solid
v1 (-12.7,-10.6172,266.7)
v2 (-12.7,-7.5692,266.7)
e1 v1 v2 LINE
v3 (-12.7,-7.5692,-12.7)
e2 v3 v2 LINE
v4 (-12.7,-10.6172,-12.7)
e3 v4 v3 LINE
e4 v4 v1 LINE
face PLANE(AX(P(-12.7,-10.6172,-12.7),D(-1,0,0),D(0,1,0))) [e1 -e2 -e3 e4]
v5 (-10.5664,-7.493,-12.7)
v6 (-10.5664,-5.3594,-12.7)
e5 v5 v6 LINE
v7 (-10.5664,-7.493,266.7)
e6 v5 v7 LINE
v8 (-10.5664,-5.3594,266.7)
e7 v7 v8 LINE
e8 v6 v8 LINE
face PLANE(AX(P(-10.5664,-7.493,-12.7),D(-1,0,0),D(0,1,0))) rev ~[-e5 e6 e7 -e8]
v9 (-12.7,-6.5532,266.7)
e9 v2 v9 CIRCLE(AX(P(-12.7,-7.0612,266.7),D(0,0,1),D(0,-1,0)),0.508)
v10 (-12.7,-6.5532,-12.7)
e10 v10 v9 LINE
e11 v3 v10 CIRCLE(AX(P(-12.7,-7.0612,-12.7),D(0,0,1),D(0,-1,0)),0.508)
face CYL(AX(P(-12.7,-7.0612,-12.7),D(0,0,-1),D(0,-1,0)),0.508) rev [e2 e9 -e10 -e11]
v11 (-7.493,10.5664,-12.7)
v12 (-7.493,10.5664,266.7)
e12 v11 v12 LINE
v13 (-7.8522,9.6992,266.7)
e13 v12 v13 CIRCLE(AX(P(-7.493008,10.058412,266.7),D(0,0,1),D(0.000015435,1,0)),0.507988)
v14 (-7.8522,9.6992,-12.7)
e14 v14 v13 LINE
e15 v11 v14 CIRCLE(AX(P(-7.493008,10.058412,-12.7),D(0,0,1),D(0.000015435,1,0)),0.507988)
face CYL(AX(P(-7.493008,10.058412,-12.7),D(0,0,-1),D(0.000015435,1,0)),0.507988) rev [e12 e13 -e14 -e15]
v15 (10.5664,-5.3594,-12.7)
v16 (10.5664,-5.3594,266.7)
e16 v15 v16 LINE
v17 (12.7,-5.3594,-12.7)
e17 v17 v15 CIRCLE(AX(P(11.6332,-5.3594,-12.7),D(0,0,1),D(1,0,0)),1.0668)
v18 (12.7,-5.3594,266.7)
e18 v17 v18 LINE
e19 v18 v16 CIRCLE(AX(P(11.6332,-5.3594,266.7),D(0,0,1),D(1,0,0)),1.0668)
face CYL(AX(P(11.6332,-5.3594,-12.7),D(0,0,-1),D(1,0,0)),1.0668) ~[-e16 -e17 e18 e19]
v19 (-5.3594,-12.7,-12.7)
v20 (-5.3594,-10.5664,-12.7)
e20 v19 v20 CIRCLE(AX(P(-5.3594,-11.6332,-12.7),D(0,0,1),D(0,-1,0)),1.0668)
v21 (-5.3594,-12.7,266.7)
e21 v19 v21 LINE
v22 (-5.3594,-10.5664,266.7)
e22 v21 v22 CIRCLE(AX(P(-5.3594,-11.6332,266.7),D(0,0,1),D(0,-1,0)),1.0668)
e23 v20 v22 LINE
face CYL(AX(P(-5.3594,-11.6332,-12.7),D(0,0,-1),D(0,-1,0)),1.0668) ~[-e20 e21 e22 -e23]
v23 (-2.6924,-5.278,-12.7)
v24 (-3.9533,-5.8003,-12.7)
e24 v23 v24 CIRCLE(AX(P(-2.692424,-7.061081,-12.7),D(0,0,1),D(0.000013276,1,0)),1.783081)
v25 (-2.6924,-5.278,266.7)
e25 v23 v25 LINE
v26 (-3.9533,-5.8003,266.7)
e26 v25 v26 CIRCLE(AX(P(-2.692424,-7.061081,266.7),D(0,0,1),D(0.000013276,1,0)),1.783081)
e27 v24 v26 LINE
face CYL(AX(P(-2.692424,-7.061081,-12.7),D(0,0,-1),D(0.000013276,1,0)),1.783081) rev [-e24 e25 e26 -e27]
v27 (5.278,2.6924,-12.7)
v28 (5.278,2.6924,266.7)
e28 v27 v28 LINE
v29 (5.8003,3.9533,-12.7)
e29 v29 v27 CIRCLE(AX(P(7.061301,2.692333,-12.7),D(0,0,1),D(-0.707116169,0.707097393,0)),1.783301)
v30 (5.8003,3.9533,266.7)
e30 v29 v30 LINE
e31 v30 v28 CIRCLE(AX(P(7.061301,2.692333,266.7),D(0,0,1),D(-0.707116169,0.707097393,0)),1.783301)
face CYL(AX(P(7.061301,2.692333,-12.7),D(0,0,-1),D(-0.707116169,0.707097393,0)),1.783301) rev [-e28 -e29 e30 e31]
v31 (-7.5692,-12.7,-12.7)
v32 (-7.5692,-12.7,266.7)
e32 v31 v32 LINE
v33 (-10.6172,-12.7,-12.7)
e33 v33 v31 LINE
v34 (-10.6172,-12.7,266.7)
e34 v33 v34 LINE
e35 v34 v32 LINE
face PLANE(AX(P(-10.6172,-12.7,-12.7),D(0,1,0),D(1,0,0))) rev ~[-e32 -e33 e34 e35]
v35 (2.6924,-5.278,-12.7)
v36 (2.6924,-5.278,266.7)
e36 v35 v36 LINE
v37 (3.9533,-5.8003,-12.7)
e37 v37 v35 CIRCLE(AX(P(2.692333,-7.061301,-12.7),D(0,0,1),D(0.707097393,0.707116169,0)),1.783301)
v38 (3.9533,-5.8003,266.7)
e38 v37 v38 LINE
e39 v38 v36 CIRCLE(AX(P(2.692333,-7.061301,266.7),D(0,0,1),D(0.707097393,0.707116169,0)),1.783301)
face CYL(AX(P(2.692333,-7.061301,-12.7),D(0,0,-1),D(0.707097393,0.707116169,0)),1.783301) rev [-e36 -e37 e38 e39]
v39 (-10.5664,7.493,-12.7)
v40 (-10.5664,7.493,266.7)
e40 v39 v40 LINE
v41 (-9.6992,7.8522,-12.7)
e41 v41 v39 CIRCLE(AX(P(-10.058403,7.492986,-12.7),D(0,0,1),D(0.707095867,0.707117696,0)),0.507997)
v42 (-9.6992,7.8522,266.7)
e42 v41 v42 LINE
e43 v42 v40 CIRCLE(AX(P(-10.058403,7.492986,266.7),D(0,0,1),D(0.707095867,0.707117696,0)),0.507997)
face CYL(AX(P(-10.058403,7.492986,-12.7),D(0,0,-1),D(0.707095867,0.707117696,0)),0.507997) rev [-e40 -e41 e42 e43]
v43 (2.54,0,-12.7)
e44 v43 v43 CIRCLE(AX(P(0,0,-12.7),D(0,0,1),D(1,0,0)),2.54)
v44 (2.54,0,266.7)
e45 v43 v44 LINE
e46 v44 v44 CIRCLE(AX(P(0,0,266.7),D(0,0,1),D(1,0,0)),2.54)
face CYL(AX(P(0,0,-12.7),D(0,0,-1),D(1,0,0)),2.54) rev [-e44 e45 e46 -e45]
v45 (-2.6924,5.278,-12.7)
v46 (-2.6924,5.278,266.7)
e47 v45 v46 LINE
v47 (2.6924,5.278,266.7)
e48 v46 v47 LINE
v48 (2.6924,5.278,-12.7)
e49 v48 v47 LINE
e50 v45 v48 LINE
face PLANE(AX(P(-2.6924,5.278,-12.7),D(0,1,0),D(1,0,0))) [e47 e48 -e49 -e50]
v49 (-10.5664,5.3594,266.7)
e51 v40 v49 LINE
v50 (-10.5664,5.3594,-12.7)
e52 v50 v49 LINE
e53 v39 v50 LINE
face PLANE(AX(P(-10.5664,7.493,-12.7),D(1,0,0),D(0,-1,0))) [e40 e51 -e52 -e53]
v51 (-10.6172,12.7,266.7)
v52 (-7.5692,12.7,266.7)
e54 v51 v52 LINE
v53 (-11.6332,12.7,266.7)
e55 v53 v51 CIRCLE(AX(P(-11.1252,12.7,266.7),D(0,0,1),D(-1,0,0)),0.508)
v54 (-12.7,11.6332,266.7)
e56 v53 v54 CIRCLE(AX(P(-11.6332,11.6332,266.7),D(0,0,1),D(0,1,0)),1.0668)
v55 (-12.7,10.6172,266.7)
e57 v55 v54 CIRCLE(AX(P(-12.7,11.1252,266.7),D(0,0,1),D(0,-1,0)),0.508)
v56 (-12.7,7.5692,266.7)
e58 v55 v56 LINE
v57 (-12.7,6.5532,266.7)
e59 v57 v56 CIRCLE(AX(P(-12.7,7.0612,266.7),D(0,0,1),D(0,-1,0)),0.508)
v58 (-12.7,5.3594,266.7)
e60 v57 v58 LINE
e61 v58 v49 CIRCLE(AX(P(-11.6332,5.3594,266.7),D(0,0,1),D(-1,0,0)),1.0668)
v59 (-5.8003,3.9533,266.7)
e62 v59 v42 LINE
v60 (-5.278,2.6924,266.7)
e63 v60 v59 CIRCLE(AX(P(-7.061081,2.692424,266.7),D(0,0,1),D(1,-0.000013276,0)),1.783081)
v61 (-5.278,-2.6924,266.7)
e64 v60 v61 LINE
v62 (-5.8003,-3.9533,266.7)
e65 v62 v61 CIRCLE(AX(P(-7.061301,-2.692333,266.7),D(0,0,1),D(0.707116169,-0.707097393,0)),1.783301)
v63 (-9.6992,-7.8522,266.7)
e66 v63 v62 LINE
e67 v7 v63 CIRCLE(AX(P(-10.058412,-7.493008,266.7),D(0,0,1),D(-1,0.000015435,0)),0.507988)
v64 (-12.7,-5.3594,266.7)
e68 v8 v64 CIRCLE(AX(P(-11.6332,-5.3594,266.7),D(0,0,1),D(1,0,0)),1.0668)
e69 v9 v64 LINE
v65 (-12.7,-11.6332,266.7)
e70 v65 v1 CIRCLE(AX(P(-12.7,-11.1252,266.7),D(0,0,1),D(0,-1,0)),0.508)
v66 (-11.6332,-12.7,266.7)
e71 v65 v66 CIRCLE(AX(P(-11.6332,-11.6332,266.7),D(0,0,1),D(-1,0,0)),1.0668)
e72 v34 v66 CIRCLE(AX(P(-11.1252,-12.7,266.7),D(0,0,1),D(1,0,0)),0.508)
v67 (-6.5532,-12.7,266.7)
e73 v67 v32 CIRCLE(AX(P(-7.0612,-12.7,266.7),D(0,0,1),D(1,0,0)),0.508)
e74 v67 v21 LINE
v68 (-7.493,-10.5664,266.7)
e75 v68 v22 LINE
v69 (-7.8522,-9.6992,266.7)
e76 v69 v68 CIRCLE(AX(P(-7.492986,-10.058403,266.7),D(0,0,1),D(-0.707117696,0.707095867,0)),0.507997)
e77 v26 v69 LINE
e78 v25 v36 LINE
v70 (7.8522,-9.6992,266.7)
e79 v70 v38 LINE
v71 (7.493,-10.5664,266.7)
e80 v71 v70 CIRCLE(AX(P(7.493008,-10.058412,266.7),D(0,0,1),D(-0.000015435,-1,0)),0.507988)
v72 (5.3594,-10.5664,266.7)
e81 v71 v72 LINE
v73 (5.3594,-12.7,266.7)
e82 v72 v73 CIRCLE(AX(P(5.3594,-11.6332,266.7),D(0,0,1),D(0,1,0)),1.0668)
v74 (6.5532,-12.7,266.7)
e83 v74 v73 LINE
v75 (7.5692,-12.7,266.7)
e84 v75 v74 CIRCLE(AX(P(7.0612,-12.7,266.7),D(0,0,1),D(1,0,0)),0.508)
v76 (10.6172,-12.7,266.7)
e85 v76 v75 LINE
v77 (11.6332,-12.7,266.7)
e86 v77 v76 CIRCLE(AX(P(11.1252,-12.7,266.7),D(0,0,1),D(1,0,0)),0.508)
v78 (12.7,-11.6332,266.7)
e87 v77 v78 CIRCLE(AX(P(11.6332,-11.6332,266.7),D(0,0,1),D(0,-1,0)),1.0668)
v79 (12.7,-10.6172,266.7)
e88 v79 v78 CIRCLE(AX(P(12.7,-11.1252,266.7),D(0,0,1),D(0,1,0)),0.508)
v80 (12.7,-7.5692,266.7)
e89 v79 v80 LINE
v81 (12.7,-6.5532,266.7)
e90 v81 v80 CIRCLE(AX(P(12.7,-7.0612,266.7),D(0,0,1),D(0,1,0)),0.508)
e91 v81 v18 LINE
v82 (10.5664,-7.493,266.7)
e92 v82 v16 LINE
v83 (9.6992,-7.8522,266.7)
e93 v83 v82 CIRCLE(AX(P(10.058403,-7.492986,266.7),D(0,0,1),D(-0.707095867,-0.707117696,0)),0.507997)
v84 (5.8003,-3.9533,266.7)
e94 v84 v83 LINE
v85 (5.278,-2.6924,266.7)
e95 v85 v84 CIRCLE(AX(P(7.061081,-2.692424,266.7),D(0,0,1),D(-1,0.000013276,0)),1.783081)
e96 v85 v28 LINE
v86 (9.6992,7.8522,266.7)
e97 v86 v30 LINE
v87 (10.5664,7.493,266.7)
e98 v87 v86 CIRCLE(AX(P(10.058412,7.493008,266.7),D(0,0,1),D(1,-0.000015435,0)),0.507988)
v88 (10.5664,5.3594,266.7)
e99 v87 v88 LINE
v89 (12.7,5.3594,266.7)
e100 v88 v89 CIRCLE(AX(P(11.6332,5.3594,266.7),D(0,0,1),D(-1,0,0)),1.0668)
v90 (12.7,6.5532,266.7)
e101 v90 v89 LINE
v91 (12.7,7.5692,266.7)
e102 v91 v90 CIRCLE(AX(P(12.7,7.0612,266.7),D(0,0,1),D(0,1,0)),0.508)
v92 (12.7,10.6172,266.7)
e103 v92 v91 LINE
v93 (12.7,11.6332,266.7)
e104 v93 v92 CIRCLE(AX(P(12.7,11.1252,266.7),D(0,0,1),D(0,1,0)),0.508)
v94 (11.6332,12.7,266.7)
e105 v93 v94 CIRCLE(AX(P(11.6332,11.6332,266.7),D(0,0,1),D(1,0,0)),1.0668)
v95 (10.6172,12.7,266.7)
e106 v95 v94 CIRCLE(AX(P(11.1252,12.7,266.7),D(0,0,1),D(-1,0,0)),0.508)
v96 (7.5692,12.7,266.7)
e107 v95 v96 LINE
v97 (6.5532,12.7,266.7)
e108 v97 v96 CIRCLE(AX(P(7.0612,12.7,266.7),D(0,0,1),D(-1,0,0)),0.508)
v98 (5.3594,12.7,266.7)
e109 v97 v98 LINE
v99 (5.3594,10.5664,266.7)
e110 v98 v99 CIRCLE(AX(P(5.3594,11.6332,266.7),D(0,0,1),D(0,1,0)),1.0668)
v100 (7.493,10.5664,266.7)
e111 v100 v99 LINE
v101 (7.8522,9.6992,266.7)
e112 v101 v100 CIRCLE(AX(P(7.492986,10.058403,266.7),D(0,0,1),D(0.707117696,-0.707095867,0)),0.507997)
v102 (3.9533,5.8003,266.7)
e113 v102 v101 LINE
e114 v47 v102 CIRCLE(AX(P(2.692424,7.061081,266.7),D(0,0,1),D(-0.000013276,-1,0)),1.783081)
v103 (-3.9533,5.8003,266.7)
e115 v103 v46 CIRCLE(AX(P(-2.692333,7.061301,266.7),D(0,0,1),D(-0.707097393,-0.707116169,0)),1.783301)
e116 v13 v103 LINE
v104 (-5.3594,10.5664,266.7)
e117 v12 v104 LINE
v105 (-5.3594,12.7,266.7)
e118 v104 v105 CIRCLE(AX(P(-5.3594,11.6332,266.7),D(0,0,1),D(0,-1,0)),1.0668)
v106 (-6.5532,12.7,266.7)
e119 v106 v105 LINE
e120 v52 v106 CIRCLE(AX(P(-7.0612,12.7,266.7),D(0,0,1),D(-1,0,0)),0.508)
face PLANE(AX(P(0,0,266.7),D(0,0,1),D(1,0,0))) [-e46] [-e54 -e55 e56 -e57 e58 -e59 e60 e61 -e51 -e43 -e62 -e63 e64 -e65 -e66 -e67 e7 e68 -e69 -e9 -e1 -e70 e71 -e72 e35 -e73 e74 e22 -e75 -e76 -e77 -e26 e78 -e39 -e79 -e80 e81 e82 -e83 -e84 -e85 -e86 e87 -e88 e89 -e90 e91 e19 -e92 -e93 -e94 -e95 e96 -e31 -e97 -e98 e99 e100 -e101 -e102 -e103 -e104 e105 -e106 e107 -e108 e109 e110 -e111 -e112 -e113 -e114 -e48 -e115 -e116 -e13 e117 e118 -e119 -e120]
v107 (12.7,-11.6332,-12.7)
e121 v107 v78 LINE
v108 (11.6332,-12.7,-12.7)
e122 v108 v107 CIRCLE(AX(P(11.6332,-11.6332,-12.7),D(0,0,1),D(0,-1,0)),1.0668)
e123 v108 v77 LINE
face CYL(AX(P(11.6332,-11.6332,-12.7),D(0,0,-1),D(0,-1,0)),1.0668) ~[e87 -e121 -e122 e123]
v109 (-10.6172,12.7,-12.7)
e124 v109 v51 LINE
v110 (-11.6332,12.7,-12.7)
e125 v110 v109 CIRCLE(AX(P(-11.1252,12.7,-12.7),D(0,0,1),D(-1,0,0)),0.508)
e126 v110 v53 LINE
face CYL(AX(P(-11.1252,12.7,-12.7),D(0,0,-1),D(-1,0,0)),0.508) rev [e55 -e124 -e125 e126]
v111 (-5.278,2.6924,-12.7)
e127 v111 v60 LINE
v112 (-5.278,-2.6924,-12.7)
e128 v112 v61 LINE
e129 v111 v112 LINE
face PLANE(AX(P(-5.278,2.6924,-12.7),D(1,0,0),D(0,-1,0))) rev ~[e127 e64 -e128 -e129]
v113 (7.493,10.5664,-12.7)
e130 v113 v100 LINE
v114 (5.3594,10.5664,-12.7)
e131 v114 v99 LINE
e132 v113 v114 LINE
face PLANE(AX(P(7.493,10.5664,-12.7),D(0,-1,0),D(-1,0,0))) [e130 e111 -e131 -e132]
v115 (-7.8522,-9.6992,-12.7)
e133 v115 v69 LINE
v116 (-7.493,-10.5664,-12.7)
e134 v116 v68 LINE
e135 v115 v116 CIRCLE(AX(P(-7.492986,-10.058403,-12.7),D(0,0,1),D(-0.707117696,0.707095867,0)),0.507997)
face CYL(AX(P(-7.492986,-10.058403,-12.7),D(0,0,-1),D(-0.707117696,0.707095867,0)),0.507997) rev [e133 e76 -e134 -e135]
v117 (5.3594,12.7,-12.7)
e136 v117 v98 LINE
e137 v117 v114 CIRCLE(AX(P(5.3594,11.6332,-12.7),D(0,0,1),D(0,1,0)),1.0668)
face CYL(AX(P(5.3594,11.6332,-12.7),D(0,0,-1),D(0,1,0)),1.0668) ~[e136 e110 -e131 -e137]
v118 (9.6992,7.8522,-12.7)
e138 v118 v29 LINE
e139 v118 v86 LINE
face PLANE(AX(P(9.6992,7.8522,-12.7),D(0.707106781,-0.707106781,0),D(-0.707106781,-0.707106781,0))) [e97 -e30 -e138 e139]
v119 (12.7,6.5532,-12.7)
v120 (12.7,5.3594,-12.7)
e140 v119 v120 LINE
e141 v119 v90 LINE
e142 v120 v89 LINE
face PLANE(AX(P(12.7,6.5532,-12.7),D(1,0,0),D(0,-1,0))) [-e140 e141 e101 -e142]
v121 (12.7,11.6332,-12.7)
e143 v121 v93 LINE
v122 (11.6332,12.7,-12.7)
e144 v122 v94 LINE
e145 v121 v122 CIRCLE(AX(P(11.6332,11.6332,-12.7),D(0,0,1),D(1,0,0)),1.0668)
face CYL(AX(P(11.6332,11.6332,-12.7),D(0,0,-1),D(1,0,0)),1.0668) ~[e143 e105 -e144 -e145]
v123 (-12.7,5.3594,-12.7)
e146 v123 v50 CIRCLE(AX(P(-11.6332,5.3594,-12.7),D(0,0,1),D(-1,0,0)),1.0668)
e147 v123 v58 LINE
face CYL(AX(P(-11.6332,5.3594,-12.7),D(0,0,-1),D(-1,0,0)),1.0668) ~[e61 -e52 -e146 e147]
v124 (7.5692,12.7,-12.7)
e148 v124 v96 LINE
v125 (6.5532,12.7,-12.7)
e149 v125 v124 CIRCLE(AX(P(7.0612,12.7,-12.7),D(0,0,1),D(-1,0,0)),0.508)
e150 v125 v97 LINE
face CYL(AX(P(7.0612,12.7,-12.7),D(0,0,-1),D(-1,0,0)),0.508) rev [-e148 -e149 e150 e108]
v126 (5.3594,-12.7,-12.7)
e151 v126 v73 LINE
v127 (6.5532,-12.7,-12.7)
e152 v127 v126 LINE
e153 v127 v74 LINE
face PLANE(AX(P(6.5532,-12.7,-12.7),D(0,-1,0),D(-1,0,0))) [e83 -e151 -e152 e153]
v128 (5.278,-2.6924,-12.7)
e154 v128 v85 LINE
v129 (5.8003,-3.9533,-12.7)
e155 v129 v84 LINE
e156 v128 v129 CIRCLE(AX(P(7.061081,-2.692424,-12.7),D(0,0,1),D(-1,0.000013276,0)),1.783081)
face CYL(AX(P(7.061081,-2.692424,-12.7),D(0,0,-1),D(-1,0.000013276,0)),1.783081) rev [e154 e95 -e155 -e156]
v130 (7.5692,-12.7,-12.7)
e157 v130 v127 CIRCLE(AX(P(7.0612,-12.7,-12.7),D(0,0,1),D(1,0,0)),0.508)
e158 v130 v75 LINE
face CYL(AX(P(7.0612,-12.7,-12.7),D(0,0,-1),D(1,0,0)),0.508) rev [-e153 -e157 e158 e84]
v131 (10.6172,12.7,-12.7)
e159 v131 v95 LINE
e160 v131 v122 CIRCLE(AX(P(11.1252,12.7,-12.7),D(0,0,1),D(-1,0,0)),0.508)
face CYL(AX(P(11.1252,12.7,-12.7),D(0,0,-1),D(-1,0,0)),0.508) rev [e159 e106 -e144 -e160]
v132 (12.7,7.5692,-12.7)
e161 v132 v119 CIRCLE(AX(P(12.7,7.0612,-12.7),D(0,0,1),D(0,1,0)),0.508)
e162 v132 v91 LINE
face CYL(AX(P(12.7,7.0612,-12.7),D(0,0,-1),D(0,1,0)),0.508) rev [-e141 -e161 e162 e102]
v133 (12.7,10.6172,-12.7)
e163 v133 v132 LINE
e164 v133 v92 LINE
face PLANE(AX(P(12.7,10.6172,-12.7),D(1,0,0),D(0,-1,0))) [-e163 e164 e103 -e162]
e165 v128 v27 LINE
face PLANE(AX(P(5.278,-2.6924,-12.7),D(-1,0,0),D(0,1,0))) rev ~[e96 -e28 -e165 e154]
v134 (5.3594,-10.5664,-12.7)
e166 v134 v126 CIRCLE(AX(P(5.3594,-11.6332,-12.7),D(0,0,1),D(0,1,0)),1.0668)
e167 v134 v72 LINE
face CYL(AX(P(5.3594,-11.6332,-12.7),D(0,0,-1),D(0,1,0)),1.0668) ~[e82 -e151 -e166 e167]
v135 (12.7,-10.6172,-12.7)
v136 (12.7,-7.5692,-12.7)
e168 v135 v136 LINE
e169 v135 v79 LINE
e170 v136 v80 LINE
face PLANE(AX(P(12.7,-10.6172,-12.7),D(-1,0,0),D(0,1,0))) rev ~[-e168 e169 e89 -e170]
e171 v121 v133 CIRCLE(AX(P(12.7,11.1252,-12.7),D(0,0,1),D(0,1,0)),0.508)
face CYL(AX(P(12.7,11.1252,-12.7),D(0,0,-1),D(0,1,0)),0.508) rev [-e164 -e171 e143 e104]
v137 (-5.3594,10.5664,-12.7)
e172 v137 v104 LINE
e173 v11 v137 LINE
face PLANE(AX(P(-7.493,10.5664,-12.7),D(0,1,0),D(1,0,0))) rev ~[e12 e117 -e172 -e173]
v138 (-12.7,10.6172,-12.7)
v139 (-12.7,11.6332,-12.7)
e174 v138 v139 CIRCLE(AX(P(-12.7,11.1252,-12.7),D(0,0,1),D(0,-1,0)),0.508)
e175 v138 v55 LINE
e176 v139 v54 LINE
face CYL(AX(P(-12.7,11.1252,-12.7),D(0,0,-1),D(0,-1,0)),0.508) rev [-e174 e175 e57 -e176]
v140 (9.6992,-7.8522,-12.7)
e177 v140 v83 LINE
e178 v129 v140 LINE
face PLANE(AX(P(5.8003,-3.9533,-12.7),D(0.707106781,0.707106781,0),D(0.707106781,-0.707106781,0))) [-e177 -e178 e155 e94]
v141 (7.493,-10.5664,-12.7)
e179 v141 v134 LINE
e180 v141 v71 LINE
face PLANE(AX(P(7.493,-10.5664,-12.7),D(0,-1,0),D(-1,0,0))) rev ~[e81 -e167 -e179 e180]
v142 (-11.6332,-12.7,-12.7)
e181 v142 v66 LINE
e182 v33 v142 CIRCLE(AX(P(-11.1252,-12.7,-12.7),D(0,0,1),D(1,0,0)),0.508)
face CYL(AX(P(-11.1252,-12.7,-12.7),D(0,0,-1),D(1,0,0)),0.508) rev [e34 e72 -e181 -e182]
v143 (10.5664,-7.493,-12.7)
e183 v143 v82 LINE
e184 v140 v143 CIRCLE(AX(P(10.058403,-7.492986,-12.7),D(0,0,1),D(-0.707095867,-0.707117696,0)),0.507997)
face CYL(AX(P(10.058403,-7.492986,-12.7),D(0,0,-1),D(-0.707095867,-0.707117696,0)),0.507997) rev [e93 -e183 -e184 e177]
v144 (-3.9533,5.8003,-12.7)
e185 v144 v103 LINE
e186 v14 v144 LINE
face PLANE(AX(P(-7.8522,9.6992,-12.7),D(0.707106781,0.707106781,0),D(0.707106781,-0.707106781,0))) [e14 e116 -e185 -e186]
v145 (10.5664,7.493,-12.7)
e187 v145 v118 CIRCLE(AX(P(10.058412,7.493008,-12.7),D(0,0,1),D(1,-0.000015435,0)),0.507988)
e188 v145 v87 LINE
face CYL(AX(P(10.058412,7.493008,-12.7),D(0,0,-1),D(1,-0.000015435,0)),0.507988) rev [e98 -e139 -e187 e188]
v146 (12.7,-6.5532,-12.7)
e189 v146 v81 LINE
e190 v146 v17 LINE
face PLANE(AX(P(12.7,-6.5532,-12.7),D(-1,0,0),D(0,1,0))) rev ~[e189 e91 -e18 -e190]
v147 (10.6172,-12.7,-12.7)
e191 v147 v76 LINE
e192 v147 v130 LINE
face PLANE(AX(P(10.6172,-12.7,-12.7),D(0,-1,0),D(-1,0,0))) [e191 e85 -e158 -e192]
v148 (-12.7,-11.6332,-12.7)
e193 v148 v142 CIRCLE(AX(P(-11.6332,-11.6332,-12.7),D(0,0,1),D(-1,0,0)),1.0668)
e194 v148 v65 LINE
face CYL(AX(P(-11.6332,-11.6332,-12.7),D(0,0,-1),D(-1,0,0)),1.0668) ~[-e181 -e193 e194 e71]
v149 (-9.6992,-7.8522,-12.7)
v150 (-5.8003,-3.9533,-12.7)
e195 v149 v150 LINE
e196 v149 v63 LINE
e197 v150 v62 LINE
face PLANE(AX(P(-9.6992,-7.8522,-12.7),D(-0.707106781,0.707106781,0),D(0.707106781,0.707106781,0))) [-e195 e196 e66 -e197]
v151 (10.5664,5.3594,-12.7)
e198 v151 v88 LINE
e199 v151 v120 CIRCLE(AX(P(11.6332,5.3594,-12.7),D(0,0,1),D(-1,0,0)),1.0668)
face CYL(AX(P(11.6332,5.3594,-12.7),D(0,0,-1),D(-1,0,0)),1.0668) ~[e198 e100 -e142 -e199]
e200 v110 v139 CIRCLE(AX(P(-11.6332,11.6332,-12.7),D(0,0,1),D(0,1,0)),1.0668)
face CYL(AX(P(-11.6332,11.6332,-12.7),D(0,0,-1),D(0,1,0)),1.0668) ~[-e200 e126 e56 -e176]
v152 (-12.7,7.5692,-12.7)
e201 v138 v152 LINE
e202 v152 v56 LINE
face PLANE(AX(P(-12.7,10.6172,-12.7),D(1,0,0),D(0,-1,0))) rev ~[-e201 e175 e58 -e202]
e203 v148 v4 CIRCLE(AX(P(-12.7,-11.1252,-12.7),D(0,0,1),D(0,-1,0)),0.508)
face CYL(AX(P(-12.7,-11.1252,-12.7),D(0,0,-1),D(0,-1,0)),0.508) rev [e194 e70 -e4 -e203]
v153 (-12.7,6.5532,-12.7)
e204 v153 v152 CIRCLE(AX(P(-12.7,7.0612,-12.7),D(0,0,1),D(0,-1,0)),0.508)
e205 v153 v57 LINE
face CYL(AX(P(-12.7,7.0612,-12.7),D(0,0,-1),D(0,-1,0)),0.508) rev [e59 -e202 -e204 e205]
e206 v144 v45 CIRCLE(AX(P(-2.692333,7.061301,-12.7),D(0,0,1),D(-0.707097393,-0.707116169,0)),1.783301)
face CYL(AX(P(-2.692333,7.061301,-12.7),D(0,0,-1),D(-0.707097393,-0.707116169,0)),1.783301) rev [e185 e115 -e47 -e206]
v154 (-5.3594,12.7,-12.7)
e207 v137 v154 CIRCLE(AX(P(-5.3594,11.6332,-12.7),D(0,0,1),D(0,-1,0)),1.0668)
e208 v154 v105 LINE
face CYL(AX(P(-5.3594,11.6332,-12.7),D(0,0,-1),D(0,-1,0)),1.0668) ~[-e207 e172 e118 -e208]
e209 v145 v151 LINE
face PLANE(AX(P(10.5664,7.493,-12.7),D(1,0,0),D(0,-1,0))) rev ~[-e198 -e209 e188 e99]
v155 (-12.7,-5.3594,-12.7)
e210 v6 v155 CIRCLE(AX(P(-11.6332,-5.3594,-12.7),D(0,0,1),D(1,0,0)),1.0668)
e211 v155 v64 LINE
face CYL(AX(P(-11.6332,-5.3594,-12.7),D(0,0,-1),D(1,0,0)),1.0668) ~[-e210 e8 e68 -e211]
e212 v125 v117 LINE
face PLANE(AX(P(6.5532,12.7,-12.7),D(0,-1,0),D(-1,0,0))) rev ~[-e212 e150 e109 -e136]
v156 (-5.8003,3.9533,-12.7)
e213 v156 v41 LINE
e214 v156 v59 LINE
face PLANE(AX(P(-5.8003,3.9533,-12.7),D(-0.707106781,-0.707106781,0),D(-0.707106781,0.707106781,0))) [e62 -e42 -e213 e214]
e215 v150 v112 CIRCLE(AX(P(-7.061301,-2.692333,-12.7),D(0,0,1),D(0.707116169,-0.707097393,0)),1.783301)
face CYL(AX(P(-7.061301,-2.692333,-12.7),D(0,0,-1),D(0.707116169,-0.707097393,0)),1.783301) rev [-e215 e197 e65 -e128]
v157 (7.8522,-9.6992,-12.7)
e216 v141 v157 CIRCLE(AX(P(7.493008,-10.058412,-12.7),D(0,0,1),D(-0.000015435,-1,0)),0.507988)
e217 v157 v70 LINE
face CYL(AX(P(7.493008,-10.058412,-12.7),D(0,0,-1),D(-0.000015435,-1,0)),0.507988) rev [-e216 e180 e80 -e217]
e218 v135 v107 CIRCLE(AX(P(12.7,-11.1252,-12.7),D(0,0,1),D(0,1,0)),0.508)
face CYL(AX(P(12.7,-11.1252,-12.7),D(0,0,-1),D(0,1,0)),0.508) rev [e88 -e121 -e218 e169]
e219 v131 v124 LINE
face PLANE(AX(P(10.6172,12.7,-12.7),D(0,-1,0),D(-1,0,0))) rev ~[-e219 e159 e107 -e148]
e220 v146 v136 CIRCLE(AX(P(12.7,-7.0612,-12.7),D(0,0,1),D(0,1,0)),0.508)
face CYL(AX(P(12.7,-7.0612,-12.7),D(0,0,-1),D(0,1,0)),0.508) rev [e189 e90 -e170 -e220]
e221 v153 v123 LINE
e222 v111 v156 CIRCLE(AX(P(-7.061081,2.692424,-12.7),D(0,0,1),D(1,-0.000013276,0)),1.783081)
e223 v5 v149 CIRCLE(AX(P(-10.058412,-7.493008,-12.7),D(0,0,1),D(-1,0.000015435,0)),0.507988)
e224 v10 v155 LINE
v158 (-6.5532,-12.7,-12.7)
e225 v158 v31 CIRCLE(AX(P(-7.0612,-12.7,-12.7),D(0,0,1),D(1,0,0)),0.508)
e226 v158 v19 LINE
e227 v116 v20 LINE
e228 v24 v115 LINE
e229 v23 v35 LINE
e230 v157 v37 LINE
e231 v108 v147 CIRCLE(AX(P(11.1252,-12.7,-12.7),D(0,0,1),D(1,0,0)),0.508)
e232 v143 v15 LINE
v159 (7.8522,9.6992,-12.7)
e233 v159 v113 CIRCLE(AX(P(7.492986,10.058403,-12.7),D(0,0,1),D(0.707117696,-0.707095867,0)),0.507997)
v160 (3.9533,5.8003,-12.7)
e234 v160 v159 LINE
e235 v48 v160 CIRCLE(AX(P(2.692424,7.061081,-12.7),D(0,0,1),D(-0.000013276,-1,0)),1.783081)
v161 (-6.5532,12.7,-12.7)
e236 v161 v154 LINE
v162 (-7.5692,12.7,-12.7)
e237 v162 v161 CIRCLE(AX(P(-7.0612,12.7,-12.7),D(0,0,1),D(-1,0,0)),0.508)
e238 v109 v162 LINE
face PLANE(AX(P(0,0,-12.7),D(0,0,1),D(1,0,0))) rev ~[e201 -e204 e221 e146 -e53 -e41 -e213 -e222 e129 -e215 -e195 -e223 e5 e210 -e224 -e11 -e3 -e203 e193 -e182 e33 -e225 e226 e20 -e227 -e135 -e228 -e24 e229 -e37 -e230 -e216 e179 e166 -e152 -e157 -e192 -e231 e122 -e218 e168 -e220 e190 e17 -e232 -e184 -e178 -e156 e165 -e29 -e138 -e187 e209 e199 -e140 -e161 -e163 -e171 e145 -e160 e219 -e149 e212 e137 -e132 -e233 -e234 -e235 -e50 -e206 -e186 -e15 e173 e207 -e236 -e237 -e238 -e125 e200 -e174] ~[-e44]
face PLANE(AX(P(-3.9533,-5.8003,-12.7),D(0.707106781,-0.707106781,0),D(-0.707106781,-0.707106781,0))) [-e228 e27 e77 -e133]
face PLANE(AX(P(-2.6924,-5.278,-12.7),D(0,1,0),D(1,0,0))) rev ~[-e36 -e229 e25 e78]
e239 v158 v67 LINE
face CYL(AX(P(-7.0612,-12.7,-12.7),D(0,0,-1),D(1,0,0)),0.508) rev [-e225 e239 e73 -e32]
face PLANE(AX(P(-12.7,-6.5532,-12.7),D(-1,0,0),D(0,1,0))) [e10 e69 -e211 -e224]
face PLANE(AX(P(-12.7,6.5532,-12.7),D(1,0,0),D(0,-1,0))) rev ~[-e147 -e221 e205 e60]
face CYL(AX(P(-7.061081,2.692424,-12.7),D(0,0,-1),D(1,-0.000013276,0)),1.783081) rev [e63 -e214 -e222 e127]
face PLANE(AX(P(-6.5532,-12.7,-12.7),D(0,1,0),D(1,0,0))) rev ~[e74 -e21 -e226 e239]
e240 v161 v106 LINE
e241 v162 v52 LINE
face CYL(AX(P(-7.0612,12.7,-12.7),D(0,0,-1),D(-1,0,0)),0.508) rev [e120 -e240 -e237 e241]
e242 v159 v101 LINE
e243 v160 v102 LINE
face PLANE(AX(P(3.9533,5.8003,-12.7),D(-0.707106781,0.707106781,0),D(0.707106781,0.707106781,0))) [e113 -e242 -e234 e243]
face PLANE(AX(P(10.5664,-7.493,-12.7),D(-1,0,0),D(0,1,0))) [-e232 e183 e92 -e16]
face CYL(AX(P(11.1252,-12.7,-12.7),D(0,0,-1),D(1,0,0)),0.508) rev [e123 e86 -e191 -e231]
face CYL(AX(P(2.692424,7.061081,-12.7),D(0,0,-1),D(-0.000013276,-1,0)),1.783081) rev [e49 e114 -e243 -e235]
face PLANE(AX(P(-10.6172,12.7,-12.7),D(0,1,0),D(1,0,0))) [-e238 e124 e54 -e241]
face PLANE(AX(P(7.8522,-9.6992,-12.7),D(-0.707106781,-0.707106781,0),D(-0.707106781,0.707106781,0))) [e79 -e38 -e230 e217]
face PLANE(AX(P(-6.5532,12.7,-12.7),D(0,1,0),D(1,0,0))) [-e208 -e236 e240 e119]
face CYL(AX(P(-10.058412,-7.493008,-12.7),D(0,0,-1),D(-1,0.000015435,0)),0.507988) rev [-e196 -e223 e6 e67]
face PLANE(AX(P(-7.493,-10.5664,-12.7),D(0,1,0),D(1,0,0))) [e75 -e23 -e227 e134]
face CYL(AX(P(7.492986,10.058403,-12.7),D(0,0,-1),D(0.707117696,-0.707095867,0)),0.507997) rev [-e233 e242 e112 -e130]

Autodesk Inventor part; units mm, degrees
ref_plane "Start Plane" through (0, 0, -12.7) normal (0, 0, 1) x (1, 0, 0)
ref_plane "End Plane" through (0, 0, 266.7) normal (0, 0, 1) x (1, 0, 0)
sketch "Sketch" plane through (0, 0, 0) normal (0, 0, 1) x (1, 0, 0)
  arc A0 (-11.6332, 12.7) -> (-12.7, 11.6332) centre (-11.6332, 11.6332) ccw
  arc A1 (-5.3594, 10.5664) -> (-5.3594, 12.7) centre (-5.3594, 11.6332) ccw
  arc A2 (-12.7, 5.3594) -> (-10.5664, 5.3594) centre (-11.6332, 5.3594) ccw
  line L0 (-10.5664, 7.493) -> (-10.5664, 5.3594)
  line L1 (-7.493, 10.5664) -> (-5.3594, 10.5664)
  arc A3 (-9.6992, 7.8522) -> (-10.5664, 7.493) centre (-10.0584, 7.493) ccw
  arc A4 (-7.493, 10.5664) -> (-7.8522, 9.6992) centre (-7.493, 10.0584) ccw
  line L2 (-11.6332, 11.6332) -> (0, 0) construction
  line L3 (-5.8003, 3.9533) -> (-9.6992, 7.8522)
  line L4 (-7.8522, 9.6992) -> (-3.9533, 5.8003)
  arc A5 (-3.9533, 5.8003) -> (-2.6924, 5.278) centre (-2.6924, 7.0612) ccw
  arc A6 (-5.278, 2.6924) -> (-5.8003, 3.9533) centre (-7.0612, 2.6924) ccw
  arc A7 (0, 2.54) -> (-2.54, 0) centre (0, 0) ccw construction
  line L5 (0, 0) -> (-12.7, 0) construction
  line L6 (0, 12.7) -> (0, 0) construction
  arc A8 (-11.6332, 12.7) -> (-10.6172, 12.7) centre (-11.1252, 12.7) ccw
  arc A9 (-7.5692, 12.7) -> (-6.5532, 12.7) centre (-7.0612, 12.7) ccw
  arc A10 (-12.7, 10.6172) -> (-12.7, 11.6332) centre (-12.7, 11.1252) ccw
  arc A11 (-12.7, 6.5532) -> (-12.7, 7.5692) centre (-12.7, 7.0612) ccw
  line L7 (-12.7, 10.6172) -> (-12.7, 7.5692)
  line L8 (-12.7, 6.5532) -> (-12.7, 5.3594)
  line L9 (-10.6172, 12.7) -> (-7.5692, 12.7)
  line L10 (-6.5532, 12.7) -> (-5.3594, 12.7)
  circle A12 centre (0, 0) radius 2.54
  arc A13 (-12.7, -11.6332) -> (-11.6332, -12.7) centre (-11.6332, -11.6332) ccw
  line L11 (-12.7, -10.6172) -> (-12.7, -7.5692)
  arc A14 (-10.5664, -7.493) -> (-9.6992, -7.8522) centre (-10.0584, -7.493) ccw
  line L12 (-9.6992, -7.8522) -> (-5.8003, -3.9533)
  line L13 (-11.6332, -11.6332) -> (0, 0) construction
  line L14 (-3.9533, -5.8003) -> (-7.8522, -9.6992)
  arc A15 (-7.8522, -9.6992) -> (-7.493, -10.5664) centre (-7.493, -10.0584) ccw
  line L15 (-10.6172, -12.7) -> (-7.5692, -12.7)
  line L16 (-7.493, -10.5664) -> (-5.3594, -10.5664)
  arc A16 (-6.5532, -12.7) -> (-7.5692, -12.7) centre (-7.0612, -12.7) ccw
  line L17 (-6.5532, -12.7) -> (-5.3594, -12.7)
  arc A17 (-5.3594, -12.7) -> (-5.3594, -10.5664) centre (-5.3594, -11.6332) ccw
  arc A18 (-10.6172, -12.7) -> (-11.6332, -12.7) centre (-11.1252, -12.7) ccw
  arc A19 (-12.7, -11.6332) -> (-12.7, -10.6172) centre (-12.7, -11.1252) ccw
  arc A20 (-2.6924, -5.278) -> (-3.9533, -5.8003) centre (-2.6924, -7.0612) ccw
  arc A21 (-5.8003, -3.9533) -> (-5.278, -2.6924) centre (-7.0612, -2.6924) ccw
  line L18 (-10.5664, -7.493) -> (-10.5664, -5.3594)
  line L19 (-12.7, -6.5532) -> (-12.7, -5.3594)
  arc A22 (-10.5664, -5.3594) -> (-12.7, -5.3594) centre (-11.6332, -5.3594) ccw
  arc A23 (-12.7, -7.5692) -> (-12.7, -6.5532) centre (-12.7, -7.0612) ccw
  arc A24 (11.6332, -12.7) -> (12.7, -11.6332) centre (11.6332, -11.6332) ccw
  line L20 (10.6172, -12.7) -> (7.5692, -12.7)
  arc A25 (7.493, -10.5664) -> (7.8522, -9.6992) centre (7.493, -10.0584) ccw
  line L21 (7.8522, -9.6992) -> (3.9533, -5.8003)
  line L22 (11.6332, -11.6332) -> (0, 0) construction
  line L23 (5.8003, -3.9533) -> (9.6992, -7.8522)
  arc A26 (9.6992, -7.8522) -> (10.5664, -7.493) centre (10.0584, -7.493) ccw
  line L24 (12.7, -10.6172) -> (12.7, -7.5692)
  line L25 (10.5664, -7.493) -> (10.5664, -5.3594)
  arc A27 (12.7, -6.5532) -> (12.7, -7.5692) centre (12.7, -7.0612) ccw
  line L26 (12.7, -6.5532) -> (12.7, -5.3594)
  arc A28 (12.7, -5.3594) -> (10.5664, -5.3594) centre (11.6332, -5.3594) ccw
  arc A29 (12.7, -10.6172) -> (12.7, -11.6332) centre (12.7, -11.1252) ccw
  arc A30 (11.6332, -12.7) -> (10.6172, -12.7) centre (11.1252, -12.7) ccw
  arc A31 (5.278, -2.6924) -> (5.8003, -3.9533) centre (7.0612, -2.6924) ccw
  arc A32 (3.9533, -5.8003) -> (2.6924, -5.278) centre (2.6924, -7.0612) ccw
  line L27 (7.493, -10.5664) -> (5.3594, -10.5664)
  line L28 (6.5532, -12.7) -> (5.3594, -12.7)
  arc A33 (5.3594, -10.5664) -> (5.3594, -12.7) centre (5.3594, -11.6332) ccw
  arc A34 (7.5692, -12.7) -> (6.5532, -12.7) centre (7.0612, -12.7) ccw
  arc A35 (12.7, 11.6332) -> (11.6332, 12.7) centre (11.6332, 11.6332) ccw
  line L29 (12.7, 10.6172) -> (12.7, 7.5692)
  arc A36 (10.5664, 7.493) -> (9.6992, 7.8522) centre (10.0584, 7.493) ccw
  line L30 (9.6992, 7.8522) -> (5.8003, 3.9533)
  line L31 (11.6332, 11.6332) -> (0, 0) construction
  line L32 (3.9533, 5.8003) -> (7.8522, 9.6992)
  arc A37 (7.8522, 9.6992) -> (7.493, 10.5664) centre (7.493, 10.0584) ccw
  line L33 (10.6172, 12.7) -> (7.5692, 12.7)
  line L34 (7.493, 10.5664) -> (5.3594, 10.5664)
  arc A38 (6.5532, 12.7) -> (7.5692, 12.7) centre (7.0612, 12.7) ccw
  line L35 (6.5532, 12.7) -> (5.3594, 12.7)
  arc A39 (5.3594, 12.7) -> (5.3594, 10.5664) centre (5.3594, 11.6332) ccw
  arc A40 (10.6172, 12.7) -> (11.6332, 12.7) centre (11.1252, 12.7) ccw
  arc A41 (12.7, 11.6332) -> (12.7, 10.6172) centre (12.7, 11.1252) ccw
  arc A42 (2.6924, 5.278) -> (3.9533, 5.8003) centre (2.6924, 7.0612) ccw
  arc A43 (5.8003, 3.9533) -> (5.278, 2.6924) centre (7.0612, 2.6924) ccw
  line L36 (10.5664, 7.493) -> (10.5664, 5.3594)
  line L37 (12.7, 6.5532) -> (12.7, 5.3594)
  arc A44 (10.5664, 5.3594) -> (12.7, 5.3594) centre (11.6332, 5.3594) ccw
  arc A45 (12.7, 7.5692) -> (12.7, 6.5532) centre (12.7, 7.0612) ccw
  line L38 (-2.6924, 5.278) -> (2.6924, 5.278)
  line L39 (-5.278, 2.6924) -> (-5.278, -2.6924)
  line L40 (-2.6924, -5.278) -> (2.6924, -5.278)
  line L41 (5.278, -2.6924) -> (5.278, 2.6924)
  point P0 (0, 0)
  point P1 (0, 0)
  dimension "d2" = 2.1336
  dimension "d3" = 6.2738
  dimension "d4" = 6.2738
  dimension "d5" = 1.0668
  dimension "d6" = 2.1336
  dimension "d7" = 2.1336
  dimension "d8" = 1.016
  dimension "d9" = 1.016
  dimension "d10" = 135
  dimension "d11" = 2.667
  dimension "d12" = 4.572
  dimension "d13" = 4.572
  dimension "d14" = 2.667
  dimension "d15" = 5.08
  dimension "d16" = 45
  dimension "d19" = 45
  dimension "d20" = 0.508
  dimension "d21" = 4.572
  dimension "d22" = 1.016
  dimension "d23" = 4.572
  dimension "d24" = 1.016
  dimension "d25" = 0.508
  dimension "d26" = 0.508
  dimension "d27" = 0.508
  dimension "d28" = 12.7
  dimension "d37" = 360
  dimension "d47" = 10.5664
  dimension "d48" = 12.7
extrude "Body" add sketch "Sketch" along normal up to surface (279.4 mm away) from surface at -12.7
sketch "Sketch2" plane through (0, 0, 0) normal (0, 0, 1) x (1, 0, 0)
  line L0 (0, 0) -> (10, 0)
ref_plane "Work Plane3" through (0, 0, 0) normal (0, -1, 0) x (1, 0, 0)
sketch "Sketch3" plane through (0, 0, 0) normal (0, -1, 0) x (1, 0, 0)
  line L0 (-2, -12.7) -> (12, -12.7)
  line L1 (-2, 266.7) -> (12, 266.7)
  dimension "d60" = 279.4
ref_plane "Work Plane4" through (10.6172, 0, 266.7) normal (0, 0, 1) x (1, 0, 0)
split "Split1" plane through (10.6172, 0, 266.7) removes the side toward (0, 0, 1)
ref_plane "Work Plane5" through (1193.8, -10.6172, -12.7) normal (0, 0, -1) x (-1, 0, 0)
split "Split2" plane through (1193.8, -10.6172, -12.7) removes the side toward (0, 0, -1)
ref_plane "Work Plane6" through (-10.6172, -279.4, -12.7) normal (0, 0, -1) x (-1, 0, 0)
split "Split3" plane through (-10.6172, -279.4, -12.7) removes the side toward (0, 0, -1)
equation "\"d3\" = d4"
equation "\"d6\" = d7"
equation "\"d11\" = d14"
equation "\"d12\" = d13"
equation "\"d23\" = d21"
equation "\"d24\" = d30"
equation "\"d26\" = 0.5 * d24"
equation "\"d27\" = 0.5 * d22"
equation "\"Width\" = 2 * d28"
equation "\"Height\" = 2 * d48"
equation "\"G_OFFSET_START\" = 12.7"
equation "\"G_OFFSET_END\" = -12.7"
equation "\"d55\" = -G_OFFSET_START"
equation "\"d56\" = Length + G_OFFSET_END"
equation "\"G_L\" = 279.4"
equation "\"d30\" = 1.016"
equation "\"Length\" = 279.4"
properties part number "1010_80_20" material "Aluminum-6061"
